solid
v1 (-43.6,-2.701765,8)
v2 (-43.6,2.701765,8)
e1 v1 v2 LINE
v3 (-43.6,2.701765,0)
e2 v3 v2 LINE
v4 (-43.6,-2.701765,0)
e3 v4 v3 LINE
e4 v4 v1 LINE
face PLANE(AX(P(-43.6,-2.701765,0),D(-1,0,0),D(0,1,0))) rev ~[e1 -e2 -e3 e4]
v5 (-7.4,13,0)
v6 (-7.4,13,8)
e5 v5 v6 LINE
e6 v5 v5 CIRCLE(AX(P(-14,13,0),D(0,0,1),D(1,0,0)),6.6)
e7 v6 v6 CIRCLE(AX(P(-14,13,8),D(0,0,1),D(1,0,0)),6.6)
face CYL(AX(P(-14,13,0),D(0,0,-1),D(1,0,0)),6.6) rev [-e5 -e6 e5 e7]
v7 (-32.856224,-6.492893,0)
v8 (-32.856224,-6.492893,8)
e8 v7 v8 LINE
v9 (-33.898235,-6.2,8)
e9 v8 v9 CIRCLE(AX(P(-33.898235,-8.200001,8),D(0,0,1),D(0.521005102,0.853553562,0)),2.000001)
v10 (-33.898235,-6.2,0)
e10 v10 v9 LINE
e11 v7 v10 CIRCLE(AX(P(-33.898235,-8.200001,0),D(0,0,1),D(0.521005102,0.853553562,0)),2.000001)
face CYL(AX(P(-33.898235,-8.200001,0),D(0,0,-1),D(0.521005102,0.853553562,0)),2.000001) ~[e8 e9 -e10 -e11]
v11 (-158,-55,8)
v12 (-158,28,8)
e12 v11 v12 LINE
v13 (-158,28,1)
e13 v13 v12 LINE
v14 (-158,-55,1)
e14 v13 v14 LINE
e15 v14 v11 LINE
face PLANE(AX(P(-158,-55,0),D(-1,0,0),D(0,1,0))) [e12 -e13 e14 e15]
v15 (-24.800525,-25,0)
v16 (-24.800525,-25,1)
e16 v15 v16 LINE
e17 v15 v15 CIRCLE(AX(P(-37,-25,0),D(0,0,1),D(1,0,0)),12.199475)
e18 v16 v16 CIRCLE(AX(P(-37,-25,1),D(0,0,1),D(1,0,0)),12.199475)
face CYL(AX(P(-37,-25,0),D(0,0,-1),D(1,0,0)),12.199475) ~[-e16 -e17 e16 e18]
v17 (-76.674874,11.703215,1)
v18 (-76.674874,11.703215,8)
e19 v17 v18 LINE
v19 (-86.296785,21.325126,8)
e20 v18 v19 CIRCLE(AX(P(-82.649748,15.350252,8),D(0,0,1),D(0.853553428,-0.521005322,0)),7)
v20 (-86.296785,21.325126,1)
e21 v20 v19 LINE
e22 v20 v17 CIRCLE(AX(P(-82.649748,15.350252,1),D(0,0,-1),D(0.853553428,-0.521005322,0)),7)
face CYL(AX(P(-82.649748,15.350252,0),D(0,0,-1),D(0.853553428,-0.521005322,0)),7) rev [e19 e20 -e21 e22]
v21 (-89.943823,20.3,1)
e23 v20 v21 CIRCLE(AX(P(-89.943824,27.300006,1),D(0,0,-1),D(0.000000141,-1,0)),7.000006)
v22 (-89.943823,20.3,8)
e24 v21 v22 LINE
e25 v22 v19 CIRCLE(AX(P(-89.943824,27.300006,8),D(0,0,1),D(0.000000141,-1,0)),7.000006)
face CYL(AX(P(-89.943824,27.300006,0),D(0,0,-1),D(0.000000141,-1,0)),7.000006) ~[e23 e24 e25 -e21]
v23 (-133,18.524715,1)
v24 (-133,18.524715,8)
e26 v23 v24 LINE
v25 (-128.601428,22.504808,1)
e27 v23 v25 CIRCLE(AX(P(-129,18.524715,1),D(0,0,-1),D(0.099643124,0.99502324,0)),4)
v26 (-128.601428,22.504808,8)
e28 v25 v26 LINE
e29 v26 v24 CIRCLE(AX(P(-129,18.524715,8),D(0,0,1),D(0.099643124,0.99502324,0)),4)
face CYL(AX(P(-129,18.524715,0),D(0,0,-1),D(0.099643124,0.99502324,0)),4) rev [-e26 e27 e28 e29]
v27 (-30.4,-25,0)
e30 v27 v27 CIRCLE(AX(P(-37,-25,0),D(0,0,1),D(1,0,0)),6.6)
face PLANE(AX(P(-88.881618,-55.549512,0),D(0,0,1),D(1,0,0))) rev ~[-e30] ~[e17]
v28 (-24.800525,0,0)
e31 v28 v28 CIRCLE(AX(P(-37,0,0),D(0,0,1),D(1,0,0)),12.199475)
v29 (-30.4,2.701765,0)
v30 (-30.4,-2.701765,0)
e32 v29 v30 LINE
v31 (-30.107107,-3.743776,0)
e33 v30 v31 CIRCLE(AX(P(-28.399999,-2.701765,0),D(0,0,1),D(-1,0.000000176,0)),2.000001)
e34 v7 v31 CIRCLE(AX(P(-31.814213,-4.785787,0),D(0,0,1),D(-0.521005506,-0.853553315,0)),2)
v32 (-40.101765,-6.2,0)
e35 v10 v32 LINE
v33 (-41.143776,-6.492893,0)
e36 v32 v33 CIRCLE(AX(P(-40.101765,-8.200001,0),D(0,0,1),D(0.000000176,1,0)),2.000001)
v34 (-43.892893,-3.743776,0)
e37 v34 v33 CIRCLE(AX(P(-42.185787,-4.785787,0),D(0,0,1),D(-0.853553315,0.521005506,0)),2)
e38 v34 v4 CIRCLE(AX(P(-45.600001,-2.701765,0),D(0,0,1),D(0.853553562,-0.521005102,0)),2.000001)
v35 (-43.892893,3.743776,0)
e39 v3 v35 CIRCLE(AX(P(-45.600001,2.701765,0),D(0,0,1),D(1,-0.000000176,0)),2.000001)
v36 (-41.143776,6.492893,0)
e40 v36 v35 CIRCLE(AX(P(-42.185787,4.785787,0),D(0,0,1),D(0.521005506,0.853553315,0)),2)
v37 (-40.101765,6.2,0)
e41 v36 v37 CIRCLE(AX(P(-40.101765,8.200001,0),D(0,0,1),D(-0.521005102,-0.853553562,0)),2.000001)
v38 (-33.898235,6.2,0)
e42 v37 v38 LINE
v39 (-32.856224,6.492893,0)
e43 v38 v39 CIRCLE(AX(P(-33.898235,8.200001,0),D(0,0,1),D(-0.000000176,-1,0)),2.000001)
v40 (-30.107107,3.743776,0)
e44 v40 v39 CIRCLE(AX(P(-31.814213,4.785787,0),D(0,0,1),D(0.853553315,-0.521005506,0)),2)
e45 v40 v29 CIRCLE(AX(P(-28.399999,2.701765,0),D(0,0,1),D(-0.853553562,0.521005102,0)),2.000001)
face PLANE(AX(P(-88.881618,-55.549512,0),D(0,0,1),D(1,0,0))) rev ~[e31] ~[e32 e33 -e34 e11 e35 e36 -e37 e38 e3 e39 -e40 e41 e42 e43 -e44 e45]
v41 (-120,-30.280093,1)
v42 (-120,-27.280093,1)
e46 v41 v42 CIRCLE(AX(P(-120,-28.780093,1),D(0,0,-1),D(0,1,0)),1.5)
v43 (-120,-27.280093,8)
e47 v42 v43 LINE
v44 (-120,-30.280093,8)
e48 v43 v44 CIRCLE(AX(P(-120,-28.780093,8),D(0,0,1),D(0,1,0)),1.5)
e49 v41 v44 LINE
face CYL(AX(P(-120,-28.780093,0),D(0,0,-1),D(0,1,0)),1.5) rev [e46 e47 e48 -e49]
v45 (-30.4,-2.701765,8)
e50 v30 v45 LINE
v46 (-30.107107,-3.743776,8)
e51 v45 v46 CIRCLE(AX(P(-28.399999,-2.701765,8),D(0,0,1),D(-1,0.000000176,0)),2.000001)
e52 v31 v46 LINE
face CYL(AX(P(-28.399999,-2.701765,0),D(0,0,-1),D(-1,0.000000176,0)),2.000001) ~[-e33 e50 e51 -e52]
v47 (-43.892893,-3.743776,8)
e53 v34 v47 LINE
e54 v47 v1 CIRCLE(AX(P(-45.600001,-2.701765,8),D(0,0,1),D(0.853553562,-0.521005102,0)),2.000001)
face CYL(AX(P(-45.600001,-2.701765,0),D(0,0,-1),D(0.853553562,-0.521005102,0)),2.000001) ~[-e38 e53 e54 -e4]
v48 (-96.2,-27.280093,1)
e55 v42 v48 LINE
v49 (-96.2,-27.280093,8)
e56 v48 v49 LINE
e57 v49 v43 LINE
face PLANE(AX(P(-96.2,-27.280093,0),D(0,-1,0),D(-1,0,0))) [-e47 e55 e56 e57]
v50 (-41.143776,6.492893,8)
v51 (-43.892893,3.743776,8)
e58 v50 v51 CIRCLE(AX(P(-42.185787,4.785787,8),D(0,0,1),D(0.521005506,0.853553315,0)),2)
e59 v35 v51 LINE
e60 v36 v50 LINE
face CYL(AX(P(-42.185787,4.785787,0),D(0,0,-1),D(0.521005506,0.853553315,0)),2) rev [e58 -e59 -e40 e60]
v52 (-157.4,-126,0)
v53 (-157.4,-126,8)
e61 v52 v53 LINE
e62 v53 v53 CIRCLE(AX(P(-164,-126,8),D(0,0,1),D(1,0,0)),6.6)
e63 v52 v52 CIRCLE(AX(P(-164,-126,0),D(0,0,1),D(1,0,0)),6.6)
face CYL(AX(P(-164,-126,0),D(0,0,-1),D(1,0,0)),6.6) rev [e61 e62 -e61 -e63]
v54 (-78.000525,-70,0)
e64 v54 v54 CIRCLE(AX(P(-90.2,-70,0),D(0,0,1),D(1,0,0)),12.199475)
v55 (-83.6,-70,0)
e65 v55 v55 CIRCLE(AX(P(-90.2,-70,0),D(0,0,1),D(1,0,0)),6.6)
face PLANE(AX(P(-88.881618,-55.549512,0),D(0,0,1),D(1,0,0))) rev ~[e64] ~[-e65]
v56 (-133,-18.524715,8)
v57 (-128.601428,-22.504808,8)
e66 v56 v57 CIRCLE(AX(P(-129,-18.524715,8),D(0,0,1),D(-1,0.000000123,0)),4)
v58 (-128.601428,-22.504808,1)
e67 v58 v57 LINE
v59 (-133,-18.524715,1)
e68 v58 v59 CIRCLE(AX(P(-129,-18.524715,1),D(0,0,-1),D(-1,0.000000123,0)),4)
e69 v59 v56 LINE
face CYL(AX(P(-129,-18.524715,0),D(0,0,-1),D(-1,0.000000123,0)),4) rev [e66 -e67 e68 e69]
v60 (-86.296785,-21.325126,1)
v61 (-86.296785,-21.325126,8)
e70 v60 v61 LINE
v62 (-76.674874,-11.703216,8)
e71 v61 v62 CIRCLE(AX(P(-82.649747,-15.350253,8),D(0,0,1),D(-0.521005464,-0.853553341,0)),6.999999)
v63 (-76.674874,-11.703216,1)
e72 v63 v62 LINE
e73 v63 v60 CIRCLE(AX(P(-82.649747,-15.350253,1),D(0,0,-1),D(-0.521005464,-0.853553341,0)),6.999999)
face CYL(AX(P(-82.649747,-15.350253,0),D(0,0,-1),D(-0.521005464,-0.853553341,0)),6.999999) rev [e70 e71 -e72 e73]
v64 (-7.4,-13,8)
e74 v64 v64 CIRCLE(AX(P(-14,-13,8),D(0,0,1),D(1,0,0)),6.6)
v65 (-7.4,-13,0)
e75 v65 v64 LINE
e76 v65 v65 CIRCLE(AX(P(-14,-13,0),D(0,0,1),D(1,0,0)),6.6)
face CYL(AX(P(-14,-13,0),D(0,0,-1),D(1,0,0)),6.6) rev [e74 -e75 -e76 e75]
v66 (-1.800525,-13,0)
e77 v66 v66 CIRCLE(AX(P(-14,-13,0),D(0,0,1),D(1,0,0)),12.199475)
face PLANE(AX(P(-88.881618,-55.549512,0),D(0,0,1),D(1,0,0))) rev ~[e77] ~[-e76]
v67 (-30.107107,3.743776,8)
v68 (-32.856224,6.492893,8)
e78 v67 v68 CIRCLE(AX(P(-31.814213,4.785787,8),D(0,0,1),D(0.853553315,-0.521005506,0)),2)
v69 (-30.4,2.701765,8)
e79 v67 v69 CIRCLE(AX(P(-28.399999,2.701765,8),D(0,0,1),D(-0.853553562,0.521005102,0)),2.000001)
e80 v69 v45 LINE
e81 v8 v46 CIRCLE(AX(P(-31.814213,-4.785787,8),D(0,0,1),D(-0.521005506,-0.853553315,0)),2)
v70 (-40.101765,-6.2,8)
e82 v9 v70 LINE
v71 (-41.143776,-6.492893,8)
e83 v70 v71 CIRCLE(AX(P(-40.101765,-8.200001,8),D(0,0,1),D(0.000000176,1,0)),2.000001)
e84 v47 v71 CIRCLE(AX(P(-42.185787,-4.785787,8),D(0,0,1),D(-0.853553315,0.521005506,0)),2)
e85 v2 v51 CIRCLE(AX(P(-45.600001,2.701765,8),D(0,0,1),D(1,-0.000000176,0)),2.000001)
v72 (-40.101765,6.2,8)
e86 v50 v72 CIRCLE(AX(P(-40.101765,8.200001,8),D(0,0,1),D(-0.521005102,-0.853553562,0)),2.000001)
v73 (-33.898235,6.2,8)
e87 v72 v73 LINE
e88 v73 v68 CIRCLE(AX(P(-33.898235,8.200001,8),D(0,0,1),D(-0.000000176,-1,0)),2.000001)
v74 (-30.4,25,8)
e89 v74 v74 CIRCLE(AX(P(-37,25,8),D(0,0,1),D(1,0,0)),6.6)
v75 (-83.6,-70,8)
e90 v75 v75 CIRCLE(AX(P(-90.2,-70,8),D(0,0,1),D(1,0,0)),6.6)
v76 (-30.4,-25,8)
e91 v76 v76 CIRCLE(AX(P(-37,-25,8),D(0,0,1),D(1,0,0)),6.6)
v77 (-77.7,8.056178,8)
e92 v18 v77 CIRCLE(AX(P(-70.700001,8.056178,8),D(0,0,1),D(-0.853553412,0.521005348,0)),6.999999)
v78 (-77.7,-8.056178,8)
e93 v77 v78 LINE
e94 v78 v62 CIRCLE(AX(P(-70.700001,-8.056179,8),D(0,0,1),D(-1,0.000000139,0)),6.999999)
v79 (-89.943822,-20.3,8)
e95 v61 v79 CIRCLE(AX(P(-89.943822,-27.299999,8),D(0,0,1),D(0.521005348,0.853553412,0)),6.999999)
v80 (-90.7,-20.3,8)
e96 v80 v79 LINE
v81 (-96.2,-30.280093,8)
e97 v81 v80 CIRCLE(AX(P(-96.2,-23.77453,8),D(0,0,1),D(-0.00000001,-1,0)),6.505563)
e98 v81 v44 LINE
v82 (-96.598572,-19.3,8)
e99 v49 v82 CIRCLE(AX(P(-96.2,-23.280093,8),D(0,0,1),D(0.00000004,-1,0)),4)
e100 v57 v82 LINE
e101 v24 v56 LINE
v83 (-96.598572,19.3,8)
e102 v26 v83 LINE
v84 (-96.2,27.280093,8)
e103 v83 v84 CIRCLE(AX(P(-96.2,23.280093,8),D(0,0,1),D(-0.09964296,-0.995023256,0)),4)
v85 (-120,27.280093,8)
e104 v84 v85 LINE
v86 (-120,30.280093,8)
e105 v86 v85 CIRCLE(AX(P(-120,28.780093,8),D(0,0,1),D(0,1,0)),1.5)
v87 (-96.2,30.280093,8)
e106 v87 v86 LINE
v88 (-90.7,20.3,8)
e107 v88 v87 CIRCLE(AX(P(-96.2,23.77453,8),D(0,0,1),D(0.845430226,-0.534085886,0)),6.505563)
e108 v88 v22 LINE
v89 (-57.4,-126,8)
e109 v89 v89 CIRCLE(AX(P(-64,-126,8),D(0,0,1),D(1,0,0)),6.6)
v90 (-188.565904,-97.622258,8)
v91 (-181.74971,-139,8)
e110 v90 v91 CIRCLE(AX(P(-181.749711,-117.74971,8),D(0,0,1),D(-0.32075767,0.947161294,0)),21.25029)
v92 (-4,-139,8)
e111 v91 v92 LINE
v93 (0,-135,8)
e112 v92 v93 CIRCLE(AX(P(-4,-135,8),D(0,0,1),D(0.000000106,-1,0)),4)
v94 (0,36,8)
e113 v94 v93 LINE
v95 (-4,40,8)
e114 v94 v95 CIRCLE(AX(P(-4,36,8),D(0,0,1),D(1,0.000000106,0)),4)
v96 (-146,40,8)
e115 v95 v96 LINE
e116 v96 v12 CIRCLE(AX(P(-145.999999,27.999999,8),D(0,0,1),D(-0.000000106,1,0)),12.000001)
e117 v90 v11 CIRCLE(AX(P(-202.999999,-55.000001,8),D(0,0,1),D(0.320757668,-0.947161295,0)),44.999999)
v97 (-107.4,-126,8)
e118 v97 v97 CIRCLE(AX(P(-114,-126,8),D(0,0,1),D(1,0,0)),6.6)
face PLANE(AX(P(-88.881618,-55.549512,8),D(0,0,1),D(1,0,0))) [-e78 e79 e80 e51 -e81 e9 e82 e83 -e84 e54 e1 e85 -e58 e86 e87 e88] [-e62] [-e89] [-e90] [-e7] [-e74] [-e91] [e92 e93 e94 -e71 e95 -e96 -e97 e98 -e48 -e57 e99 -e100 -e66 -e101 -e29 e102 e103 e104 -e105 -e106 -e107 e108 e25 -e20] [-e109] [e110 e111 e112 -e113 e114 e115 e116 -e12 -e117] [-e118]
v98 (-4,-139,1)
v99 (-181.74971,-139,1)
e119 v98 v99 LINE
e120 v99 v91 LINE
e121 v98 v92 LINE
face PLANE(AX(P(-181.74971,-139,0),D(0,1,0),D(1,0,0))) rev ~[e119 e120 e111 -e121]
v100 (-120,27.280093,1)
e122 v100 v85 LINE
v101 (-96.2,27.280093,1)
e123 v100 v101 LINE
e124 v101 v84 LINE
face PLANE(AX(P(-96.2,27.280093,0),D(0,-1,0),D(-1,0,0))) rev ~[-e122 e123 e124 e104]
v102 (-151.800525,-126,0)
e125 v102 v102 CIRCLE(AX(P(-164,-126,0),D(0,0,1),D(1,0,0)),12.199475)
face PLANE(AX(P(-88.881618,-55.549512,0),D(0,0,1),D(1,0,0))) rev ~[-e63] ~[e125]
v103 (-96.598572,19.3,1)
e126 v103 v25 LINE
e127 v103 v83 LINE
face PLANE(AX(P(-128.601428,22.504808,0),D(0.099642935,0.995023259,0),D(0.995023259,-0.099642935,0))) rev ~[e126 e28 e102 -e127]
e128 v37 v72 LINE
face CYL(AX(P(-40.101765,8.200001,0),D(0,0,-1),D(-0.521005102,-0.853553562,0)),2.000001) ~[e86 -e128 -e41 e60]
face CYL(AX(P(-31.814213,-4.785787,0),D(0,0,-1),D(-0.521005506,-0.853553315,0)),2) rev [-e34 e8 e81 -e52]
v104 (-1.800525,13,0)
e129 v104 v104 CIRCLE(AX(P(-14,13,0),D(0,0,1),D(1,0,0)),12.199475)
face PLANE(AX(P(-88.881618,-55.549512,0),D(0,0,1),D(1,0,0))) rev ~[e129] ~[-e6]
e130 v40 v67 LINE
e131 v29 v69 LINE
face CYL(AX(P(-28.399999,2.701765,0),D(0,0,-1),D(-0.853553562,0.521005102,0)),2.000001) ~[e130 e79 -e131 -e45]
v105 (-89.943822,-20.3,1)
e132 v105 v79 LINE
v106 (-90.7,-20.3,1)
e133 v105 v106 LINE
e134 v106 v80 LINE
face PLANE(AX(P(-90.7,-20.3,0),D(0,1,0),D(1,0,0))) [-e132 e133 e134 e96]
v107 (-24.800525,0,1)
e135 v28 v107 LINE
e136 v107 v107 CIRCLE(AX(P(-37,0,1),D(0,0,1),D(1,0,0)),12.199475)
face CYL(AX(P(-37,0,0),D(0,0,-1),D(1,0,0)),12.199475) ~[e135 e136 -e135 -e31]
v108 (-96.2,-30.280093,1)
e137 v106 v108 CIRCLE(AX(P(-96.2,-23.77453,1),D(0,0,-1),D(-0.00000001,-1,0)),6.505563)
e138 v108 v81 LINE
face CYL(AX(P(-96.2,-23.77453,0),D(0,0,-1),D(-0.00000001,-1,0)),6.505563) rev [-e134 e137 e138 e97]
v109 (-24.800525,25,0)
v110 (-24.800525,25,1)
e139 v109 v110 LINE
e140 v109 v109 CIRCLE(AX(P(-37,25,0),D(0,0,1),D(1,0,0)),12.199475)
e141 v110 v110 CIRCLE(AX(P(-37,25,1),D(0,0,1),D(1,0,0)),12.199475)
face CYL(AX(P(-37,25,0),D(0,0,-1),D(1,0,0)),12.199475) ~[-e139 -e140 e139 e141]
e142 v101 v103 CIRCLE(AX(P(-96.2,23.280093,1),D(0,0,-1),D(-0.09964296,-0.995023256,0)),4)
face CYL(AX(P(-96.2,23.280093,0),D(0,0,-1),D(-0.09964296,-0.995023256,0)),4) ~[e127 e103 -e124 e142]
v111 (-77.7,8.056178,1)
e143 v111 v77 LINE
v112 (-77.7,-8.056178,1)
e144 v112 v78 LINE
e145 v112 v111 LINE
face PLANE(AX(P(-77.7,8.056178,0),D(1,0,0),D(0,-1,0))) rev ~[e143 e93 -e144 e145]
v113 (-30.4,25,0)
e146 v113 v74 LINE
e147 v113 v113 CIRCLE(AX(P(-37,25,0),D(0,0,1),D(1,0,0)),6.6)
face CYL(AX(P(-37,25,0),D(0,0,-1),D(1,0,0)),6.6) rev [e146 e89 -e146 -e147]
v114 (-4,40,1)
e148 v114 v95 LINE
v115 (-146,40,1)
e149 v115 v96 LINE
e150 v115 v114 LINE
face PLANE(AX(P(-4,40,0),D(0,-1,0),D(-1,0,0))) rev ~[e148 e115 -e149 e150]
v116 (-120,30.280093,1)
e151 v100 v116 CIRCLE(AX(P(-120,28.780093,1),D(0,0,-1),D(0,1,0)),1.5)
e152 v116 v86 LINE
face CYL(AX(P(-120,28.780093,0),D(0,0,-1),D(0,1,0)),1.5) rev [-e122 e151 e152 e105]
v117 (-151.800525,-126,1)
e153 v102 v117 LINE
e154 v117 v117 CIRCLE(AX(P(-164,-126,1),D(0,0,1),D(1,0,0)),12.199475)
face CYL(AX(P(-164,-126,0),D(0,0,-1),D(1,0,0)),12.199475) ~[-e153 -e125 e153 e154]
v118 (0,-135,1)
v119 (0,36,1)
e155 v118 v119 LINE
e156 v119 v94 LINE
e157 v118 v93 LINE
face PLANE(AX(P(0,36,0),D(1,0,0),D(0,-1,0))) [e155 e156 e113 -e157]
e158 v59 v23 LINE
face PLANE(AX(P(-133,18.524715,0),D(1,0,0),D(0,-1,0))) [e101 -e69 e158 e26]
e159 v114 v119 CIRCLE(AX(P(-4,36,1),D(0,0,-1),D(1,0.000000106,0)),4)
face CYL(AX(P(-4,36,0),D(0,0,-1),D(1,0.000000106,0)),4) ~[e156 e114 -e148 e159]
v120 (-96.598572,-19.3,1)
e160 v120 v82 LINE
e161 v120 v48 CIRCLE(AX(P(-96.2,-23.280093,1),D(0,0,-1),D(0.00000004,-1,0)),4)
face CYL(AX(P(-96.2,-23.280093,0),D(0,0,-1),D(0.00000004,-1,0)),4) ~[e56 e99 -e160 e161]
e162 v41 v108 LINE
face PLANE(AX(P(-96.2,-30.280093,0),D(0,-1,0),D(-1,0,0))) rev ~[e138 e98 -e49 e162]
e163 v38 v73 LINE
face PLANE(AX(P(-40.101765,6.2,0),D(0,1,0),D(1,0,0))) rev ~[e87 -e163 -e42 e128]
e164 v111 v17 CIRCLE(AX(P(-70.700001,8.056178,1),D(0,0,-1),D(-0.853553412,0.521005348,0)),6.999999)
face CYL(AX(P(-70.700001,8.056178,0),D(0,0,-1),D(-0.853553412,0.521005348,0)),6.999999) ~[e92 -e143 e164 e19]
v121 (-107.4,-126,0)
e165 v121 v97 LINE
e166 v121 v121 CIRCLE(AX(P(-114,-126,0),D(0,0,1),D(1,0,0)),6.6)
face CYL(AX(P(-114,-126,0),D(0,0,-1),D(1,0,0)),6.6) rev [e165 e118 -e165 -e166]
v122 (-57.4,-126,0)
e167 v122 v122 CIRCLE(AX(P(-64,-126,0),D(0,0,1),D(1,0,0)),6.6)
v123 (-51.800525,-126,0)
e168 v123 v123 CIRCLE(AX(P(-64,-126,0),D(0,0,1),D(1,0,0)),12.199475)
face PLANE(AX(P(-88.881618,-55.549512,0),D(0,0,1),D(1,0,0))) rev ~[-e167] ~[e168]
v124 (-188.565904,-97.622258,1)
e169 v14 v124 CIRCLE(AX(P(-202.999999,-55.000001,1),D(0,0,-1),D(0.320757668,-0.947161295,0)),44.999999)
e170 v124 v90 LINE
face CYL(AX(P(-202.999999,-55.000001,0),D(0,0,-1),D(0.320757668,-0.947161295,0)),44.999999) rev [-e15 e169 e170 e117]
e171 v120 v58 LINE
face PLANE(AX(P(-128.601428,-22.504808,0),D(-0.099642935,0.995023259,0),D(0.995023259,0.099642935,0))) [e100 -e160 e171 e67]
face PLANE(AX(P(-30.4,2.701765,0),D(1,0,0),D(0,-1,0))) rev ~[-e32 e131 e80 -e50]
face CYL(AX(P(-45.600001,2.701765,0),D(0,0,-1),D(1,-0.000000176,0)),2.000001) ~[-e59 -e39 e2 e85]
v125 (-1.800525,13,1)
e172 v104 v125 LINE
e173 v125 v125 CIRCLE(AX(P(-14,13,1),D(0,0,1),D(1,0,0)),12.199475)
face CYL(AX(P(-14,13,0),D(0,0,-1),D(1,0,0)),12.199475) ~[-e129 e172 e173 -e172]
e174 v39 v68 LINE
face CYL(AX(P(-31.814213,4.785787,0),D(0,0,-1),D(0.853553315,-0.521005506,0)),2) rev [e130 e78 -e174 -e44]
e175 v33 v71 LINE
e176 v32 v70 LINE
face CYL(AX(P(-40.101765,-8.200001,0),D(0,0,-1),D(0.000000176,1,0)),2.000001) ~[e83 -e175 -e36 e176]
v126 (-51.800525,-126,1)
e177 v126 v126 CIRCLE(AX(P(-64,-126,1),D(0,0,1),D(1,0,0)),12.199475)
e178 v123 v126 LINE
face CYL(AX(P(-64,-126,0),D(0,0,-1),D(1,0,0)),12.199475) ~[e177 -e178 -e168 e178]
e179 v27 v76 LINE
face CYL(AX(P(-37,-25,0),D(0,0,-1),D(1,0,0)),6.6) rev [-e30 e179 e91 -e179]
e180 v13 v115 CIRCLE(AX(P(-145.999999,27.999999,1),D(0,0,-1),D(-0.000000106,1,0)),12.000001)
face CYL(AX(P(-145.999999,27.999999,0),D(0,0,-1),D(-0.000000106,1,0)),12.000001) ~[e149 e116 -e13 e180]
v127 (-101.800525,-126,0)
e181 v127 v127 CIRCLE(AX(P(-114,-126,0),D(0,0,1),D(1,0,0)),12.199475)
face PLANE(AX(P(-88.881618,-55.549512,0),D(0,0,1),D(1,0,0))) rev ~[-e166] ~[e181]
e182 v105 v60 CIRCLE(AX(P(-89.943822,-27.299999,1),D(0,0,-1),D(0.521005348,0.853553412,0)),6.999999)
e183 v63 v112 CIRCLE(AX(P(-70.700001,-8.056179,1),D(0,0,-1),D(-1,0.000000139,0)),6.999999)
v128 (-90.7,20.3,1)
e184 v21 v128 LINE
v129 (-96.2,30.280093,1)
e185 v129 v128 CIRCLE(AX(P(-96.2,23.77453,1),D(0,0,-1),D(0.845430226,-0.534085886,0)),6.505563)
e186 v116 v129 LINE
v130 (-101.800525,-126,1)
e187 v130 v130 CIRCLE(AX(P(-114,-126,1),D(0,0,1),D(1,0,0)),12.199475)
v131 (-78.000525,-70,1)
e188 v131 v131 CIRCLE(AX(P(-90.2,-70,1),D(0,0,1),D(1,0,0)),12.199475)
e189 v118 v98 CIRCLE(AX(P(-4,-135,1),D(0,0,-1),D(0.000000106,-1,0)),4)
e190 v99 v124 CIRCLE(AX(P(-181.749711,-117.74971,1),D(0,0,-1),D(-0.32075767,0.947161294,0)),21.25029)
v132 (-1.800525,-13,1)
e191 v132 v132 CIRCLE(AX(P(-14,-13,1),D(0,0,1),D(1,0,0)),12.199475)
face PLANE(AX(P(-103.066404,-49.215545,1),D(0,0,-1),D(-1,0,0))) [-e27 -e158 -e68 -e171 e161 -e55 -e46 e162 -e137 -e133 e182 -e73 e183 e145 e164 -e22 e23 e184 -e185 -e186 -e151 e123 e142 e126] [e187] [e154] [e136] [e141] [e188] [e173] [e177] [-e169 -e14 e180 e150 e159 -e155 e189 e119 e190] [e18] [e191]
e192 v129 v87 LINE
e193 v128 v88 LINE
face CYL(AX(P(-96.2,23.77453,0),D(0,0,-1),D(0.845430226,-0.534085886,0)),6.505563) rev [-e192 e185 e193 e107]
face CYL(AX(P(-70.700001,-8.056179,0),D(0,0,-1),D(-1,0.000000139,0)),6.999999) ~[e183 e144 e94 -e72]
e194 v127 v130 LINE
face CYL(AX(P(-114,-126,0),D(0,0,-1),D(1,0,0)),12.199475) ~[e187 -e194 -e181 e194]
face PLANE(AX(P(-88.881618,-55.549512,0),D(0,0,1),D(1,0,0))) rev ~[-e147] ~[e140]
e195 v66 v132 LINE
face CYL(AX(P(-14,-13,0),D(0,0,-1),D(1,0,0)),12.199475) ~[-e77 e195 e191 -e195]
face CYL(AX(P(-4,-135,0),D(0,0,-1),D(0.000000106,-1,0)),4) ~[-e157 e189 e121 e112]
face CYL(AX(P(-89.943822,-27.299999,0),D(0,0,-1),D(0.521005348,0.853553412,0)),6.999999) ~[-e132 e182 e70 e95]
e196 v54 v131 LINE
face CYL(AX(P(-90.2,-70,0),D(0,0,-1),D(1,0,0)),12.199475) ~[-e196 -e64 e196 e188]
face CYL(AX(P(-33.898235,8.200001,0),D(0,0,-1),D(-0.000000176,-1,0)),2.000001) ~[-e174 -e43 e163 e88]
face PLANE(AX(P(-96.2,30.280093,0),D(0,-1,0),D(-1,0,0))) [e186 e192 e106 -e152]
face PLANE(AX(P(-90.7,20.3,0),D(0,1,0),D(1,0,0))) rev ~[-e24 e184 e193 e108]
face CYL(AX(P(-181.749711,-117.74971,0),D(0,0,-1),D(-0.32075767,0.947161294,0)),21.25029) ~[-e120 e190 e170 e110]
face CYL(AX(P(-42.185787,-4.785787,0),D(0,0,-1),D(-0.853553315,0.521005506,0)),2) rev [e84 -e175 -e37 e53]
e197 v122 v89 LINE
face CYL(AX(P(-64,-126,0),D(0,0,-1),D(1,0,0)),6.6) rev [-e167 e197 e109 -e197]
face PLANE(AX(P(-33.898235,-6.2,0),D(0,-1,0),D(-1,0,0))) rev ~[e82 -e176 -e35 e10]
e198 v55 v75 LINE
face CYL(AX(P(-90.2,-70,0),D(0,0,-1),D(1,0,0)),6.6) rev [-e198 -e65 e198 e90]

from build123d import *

# Parameters (mm, degrees)
SKETCH_R     = 6.6
PAD_DEPTH    = 8
SKETCH001_R  = 12.199475
POCKET_DEPTH = 1


with BuildPart() as part:
    # Sketch → Pad (new body)
    with BuildSketch(Plane.XY):
        with BuildLine():
            Line((-4, 40), (-146, 40))
            ThreePointArc((-146, 40), (-154.485281, 36.485281), (-158, 28))
            Line((-158, -55), (-158, 28))
            ThreePointArc((-188.565904, -97.622258), (-166.431336, -81.224661), (-158, -55))
            ThreePointArc((-188.565904, -97.622258), (-202.717412, -121.203739), (-181.74971, -139))
            Line((-181.74971, -139), (-4, -139))
            ThreePointArc((-4, -139), (-1.171573, -137.828427), (0, -135))
            Line((0, 36), (0, -135))
            ThreePointArc((0, 36), (-1.171573, 38.828427), (-4, 40))
        make_face()
        with Locations((-37, 25)):
            Circle(SKETCH_R, mode=Mode.SUBTRACT)
        with Locations((-37, -25)):
            Circle(SKETCH_R, mode=Mode.SUBTRACT)
        with Locations((-14, 13)):
            Circle(SKETCH_R, mode=Mode.SUBTRACT)
        with Locations((-14, -13)):
            Circle(SKETCH_R, mode=Mode.SUBTRACT)
        with Locations((-164, -126)):
            Circle(SKETCH_R, mode=Mode.SUBTRACT)
        with Locations((-114, -126)):
            Circle(SKETCH_R, mode=Mode.SUBTRACT)
        with Locations((-64, -126)):
            Circle(SKETCH_R, mode=Mode.SUBTRACT)
        with Locations((-90.2, -70)):
            Circle(SKETCH_R, mode=Mode.SUBTRACT)
        with BuildLine():
            Line((-40.101765, 6.2), (-33.898235, 6.2))
            ThreePointArc((-33.898235, 6.2), (-33.357039, 6.274615), (-32.856224, 6.492893))
            ThreePointArc((-30.107107, 3.743776), (-30.4, 6.2), (-32.856224, 6.492893))
            ThreePointArc((-30.107107, 3.743776), (-30.325385, 3.242961), (-30.4, 2.701765))
            Line((-30.4, 2.701765), (-30.4, -2.701765))
            ThreePointArc((-30.4, -2.701765), (-30.325385, -3.242961), (-30.107107, -3.743776))
            ThreePointArc((-32.856224, -6.492893), (-30.4, -6.2), (-30.107107, -3.743776))
            ThreePointArc((-32.856224, -6.492893), (-33.357039, -6.274615), (-33.898235, -6.2))
            Line((-33.898235, -6.2), (-40.101765, -6.2))
            ThreePointArc((-40.101765, -6.2), (-40.642961, -6.274615), (-41.143776, -6.492893))
            ThreePointArc((-43.892893, -3.743776), (-43.6, -6.2), (-41.143776, -6.492893))
            ThreePointArc((-43.892893, -3.743776), (-43.674615, -3.242961), (-43.6, -2.701765))
            Line((-43.6, -2.701765), (-43.6, 2.701765))
            ThreePointArc((-43.6, 2.701765), (-43.674615, 3.242961), (-43.892893, 3.743776))
            ThreePointArc((-41.143776, 6.492893), (-43.6, 6.2), (-43.892893, 3.743776))
            ThreePointArc((-41.143776, 6.492893), (-40.642961, 6.274615), (-40.101765, 6.2))
        make_face(mode=Mode.SUBTRACT)
        with BuildLine():
            Line((-90.7, 20.3), (-89.943823, 20.3))
            ThreePointArc((-89.943823, 20.3), (-88.049637, 20.561153), (-86.296785, 21.325126))
            ThreePointArc((-76.674874, 11.703215), (-77.700001, 20.3), (-86.296785, 21.325126))
            ThreePointArc((-76.674874, 11.703215), (-77.438847, 9.950364), (-77.7, 8.056178))
            Line((-77.7, 8.056178), (-77.7, -8.056178))
            ThreePointArc((-77.7, -8.056178), (-77.438847, -9.950365), (-76.674874, -11.703216))
            ThreePointArc((-86.296785, -21.325126), (-77.7, -20.3), (-76.674874, -11.703216))
            ThreePointArc((-86.296785, -21.325126), (-88.049636, -20.561153), (-89.943822, -20.3))
            Line((-90.7, -20.3), (-89.943822, -20.3))
            ThreePointArc((-96.2, -30.280093), (-90.502363, -26.91448), (-90.7, -20.3))
            Line((-96.2, -30.280093), (-120, -30.280093))
            ThreePointArc((-120, -27.280093), (-121.5, -28.780093), (-120, -30.280093))
            Line((-96.2, -27.280093), (-120, -27.280093))
            ThreePointArc((-96.2, -27.280093), (-92.20498, -23.080559), (-96.598572, -19.3))
            Line((-128.601428, -22.504808), (-96.598572, -19.3))
            ThreePointArc((-133, -18.524715), (-131.683814, -21.490713), (-128.601428, -22.504808))
            Line((-133, 18.524715), (-133, -18.524715))
            ThreePointArc((-128.601428, 22.504808), (-131.683814, 21.490713), (-133, 18.524715))
            Line((-128.601428, 22.504808), (-96.598572, 19.3))
            ThreePointArc((-96.598572, 19.3), (-92.20498, 23.080559), (-96.2, 27.280093))
            Line((-96.2, 27.280093), (-120, 27.280093))
            ThreePointArc((-120, 30.280093), (-121.5, 28.780093), (-120, 27.280093))
            Line((-96.2, 30.280093), (-120, 30.280093))
            ThreePointArc((-90.7, 20.3), (-90.502363, 26.91448), (-96.2, 30.280093))
        make_face(mode=Mode.SUBTRACT)
    extrude(amount=PAD_DEPTH)

    # Sketch001 → Pocket (cut)
    with BuildSketch(Plane.XY):
        Polygon((5.517247, 44.094818), (5.517247, -142.525909), (-211.650055, -142.525909), (-211.650055, -44.465102), (-211.650055, 44.094818), align=None)
        with Locations((-37, -25)):
            Circle(SKETCH001_R, mode=Mode.SUBTRACT)
        with Locations((-14, 13)):
            Circle(SKETCH001_R, mode=Mode.SUBTRACT)
        with Locations((-14, -13)):
            Circle(SKETCH001_R, mode=Mode.SUBTRACT)
        with Locations((-37, 25)):
            Circle(SKETCH001_R, mode=Mode.SUBTRACT)
        with Locations((-114, -126)):
            Circle(SKETCH001_R, mode=Mode.SUBTRACT)
        with Locations((-90.2, -70)):
            Circle(SKETCH001_R, mode=Mode.SUBTRACT)
        with Locations((-64, -126)):
            Circle(SKETCH001_R, mode=Mode.SUBTRACT)
        with Locations((-164, -126)):
            Circle(SKETCH001_R, mode=Mode.SUBTRACT)
        with Locations((-37, 0)):
            Circle(SKETCH001_R, mode=Mode.SUBTRACT)
    extrude(amount=POCKET_DEPTH, mode=Mode.SUBTRACT)


solid = part.part
